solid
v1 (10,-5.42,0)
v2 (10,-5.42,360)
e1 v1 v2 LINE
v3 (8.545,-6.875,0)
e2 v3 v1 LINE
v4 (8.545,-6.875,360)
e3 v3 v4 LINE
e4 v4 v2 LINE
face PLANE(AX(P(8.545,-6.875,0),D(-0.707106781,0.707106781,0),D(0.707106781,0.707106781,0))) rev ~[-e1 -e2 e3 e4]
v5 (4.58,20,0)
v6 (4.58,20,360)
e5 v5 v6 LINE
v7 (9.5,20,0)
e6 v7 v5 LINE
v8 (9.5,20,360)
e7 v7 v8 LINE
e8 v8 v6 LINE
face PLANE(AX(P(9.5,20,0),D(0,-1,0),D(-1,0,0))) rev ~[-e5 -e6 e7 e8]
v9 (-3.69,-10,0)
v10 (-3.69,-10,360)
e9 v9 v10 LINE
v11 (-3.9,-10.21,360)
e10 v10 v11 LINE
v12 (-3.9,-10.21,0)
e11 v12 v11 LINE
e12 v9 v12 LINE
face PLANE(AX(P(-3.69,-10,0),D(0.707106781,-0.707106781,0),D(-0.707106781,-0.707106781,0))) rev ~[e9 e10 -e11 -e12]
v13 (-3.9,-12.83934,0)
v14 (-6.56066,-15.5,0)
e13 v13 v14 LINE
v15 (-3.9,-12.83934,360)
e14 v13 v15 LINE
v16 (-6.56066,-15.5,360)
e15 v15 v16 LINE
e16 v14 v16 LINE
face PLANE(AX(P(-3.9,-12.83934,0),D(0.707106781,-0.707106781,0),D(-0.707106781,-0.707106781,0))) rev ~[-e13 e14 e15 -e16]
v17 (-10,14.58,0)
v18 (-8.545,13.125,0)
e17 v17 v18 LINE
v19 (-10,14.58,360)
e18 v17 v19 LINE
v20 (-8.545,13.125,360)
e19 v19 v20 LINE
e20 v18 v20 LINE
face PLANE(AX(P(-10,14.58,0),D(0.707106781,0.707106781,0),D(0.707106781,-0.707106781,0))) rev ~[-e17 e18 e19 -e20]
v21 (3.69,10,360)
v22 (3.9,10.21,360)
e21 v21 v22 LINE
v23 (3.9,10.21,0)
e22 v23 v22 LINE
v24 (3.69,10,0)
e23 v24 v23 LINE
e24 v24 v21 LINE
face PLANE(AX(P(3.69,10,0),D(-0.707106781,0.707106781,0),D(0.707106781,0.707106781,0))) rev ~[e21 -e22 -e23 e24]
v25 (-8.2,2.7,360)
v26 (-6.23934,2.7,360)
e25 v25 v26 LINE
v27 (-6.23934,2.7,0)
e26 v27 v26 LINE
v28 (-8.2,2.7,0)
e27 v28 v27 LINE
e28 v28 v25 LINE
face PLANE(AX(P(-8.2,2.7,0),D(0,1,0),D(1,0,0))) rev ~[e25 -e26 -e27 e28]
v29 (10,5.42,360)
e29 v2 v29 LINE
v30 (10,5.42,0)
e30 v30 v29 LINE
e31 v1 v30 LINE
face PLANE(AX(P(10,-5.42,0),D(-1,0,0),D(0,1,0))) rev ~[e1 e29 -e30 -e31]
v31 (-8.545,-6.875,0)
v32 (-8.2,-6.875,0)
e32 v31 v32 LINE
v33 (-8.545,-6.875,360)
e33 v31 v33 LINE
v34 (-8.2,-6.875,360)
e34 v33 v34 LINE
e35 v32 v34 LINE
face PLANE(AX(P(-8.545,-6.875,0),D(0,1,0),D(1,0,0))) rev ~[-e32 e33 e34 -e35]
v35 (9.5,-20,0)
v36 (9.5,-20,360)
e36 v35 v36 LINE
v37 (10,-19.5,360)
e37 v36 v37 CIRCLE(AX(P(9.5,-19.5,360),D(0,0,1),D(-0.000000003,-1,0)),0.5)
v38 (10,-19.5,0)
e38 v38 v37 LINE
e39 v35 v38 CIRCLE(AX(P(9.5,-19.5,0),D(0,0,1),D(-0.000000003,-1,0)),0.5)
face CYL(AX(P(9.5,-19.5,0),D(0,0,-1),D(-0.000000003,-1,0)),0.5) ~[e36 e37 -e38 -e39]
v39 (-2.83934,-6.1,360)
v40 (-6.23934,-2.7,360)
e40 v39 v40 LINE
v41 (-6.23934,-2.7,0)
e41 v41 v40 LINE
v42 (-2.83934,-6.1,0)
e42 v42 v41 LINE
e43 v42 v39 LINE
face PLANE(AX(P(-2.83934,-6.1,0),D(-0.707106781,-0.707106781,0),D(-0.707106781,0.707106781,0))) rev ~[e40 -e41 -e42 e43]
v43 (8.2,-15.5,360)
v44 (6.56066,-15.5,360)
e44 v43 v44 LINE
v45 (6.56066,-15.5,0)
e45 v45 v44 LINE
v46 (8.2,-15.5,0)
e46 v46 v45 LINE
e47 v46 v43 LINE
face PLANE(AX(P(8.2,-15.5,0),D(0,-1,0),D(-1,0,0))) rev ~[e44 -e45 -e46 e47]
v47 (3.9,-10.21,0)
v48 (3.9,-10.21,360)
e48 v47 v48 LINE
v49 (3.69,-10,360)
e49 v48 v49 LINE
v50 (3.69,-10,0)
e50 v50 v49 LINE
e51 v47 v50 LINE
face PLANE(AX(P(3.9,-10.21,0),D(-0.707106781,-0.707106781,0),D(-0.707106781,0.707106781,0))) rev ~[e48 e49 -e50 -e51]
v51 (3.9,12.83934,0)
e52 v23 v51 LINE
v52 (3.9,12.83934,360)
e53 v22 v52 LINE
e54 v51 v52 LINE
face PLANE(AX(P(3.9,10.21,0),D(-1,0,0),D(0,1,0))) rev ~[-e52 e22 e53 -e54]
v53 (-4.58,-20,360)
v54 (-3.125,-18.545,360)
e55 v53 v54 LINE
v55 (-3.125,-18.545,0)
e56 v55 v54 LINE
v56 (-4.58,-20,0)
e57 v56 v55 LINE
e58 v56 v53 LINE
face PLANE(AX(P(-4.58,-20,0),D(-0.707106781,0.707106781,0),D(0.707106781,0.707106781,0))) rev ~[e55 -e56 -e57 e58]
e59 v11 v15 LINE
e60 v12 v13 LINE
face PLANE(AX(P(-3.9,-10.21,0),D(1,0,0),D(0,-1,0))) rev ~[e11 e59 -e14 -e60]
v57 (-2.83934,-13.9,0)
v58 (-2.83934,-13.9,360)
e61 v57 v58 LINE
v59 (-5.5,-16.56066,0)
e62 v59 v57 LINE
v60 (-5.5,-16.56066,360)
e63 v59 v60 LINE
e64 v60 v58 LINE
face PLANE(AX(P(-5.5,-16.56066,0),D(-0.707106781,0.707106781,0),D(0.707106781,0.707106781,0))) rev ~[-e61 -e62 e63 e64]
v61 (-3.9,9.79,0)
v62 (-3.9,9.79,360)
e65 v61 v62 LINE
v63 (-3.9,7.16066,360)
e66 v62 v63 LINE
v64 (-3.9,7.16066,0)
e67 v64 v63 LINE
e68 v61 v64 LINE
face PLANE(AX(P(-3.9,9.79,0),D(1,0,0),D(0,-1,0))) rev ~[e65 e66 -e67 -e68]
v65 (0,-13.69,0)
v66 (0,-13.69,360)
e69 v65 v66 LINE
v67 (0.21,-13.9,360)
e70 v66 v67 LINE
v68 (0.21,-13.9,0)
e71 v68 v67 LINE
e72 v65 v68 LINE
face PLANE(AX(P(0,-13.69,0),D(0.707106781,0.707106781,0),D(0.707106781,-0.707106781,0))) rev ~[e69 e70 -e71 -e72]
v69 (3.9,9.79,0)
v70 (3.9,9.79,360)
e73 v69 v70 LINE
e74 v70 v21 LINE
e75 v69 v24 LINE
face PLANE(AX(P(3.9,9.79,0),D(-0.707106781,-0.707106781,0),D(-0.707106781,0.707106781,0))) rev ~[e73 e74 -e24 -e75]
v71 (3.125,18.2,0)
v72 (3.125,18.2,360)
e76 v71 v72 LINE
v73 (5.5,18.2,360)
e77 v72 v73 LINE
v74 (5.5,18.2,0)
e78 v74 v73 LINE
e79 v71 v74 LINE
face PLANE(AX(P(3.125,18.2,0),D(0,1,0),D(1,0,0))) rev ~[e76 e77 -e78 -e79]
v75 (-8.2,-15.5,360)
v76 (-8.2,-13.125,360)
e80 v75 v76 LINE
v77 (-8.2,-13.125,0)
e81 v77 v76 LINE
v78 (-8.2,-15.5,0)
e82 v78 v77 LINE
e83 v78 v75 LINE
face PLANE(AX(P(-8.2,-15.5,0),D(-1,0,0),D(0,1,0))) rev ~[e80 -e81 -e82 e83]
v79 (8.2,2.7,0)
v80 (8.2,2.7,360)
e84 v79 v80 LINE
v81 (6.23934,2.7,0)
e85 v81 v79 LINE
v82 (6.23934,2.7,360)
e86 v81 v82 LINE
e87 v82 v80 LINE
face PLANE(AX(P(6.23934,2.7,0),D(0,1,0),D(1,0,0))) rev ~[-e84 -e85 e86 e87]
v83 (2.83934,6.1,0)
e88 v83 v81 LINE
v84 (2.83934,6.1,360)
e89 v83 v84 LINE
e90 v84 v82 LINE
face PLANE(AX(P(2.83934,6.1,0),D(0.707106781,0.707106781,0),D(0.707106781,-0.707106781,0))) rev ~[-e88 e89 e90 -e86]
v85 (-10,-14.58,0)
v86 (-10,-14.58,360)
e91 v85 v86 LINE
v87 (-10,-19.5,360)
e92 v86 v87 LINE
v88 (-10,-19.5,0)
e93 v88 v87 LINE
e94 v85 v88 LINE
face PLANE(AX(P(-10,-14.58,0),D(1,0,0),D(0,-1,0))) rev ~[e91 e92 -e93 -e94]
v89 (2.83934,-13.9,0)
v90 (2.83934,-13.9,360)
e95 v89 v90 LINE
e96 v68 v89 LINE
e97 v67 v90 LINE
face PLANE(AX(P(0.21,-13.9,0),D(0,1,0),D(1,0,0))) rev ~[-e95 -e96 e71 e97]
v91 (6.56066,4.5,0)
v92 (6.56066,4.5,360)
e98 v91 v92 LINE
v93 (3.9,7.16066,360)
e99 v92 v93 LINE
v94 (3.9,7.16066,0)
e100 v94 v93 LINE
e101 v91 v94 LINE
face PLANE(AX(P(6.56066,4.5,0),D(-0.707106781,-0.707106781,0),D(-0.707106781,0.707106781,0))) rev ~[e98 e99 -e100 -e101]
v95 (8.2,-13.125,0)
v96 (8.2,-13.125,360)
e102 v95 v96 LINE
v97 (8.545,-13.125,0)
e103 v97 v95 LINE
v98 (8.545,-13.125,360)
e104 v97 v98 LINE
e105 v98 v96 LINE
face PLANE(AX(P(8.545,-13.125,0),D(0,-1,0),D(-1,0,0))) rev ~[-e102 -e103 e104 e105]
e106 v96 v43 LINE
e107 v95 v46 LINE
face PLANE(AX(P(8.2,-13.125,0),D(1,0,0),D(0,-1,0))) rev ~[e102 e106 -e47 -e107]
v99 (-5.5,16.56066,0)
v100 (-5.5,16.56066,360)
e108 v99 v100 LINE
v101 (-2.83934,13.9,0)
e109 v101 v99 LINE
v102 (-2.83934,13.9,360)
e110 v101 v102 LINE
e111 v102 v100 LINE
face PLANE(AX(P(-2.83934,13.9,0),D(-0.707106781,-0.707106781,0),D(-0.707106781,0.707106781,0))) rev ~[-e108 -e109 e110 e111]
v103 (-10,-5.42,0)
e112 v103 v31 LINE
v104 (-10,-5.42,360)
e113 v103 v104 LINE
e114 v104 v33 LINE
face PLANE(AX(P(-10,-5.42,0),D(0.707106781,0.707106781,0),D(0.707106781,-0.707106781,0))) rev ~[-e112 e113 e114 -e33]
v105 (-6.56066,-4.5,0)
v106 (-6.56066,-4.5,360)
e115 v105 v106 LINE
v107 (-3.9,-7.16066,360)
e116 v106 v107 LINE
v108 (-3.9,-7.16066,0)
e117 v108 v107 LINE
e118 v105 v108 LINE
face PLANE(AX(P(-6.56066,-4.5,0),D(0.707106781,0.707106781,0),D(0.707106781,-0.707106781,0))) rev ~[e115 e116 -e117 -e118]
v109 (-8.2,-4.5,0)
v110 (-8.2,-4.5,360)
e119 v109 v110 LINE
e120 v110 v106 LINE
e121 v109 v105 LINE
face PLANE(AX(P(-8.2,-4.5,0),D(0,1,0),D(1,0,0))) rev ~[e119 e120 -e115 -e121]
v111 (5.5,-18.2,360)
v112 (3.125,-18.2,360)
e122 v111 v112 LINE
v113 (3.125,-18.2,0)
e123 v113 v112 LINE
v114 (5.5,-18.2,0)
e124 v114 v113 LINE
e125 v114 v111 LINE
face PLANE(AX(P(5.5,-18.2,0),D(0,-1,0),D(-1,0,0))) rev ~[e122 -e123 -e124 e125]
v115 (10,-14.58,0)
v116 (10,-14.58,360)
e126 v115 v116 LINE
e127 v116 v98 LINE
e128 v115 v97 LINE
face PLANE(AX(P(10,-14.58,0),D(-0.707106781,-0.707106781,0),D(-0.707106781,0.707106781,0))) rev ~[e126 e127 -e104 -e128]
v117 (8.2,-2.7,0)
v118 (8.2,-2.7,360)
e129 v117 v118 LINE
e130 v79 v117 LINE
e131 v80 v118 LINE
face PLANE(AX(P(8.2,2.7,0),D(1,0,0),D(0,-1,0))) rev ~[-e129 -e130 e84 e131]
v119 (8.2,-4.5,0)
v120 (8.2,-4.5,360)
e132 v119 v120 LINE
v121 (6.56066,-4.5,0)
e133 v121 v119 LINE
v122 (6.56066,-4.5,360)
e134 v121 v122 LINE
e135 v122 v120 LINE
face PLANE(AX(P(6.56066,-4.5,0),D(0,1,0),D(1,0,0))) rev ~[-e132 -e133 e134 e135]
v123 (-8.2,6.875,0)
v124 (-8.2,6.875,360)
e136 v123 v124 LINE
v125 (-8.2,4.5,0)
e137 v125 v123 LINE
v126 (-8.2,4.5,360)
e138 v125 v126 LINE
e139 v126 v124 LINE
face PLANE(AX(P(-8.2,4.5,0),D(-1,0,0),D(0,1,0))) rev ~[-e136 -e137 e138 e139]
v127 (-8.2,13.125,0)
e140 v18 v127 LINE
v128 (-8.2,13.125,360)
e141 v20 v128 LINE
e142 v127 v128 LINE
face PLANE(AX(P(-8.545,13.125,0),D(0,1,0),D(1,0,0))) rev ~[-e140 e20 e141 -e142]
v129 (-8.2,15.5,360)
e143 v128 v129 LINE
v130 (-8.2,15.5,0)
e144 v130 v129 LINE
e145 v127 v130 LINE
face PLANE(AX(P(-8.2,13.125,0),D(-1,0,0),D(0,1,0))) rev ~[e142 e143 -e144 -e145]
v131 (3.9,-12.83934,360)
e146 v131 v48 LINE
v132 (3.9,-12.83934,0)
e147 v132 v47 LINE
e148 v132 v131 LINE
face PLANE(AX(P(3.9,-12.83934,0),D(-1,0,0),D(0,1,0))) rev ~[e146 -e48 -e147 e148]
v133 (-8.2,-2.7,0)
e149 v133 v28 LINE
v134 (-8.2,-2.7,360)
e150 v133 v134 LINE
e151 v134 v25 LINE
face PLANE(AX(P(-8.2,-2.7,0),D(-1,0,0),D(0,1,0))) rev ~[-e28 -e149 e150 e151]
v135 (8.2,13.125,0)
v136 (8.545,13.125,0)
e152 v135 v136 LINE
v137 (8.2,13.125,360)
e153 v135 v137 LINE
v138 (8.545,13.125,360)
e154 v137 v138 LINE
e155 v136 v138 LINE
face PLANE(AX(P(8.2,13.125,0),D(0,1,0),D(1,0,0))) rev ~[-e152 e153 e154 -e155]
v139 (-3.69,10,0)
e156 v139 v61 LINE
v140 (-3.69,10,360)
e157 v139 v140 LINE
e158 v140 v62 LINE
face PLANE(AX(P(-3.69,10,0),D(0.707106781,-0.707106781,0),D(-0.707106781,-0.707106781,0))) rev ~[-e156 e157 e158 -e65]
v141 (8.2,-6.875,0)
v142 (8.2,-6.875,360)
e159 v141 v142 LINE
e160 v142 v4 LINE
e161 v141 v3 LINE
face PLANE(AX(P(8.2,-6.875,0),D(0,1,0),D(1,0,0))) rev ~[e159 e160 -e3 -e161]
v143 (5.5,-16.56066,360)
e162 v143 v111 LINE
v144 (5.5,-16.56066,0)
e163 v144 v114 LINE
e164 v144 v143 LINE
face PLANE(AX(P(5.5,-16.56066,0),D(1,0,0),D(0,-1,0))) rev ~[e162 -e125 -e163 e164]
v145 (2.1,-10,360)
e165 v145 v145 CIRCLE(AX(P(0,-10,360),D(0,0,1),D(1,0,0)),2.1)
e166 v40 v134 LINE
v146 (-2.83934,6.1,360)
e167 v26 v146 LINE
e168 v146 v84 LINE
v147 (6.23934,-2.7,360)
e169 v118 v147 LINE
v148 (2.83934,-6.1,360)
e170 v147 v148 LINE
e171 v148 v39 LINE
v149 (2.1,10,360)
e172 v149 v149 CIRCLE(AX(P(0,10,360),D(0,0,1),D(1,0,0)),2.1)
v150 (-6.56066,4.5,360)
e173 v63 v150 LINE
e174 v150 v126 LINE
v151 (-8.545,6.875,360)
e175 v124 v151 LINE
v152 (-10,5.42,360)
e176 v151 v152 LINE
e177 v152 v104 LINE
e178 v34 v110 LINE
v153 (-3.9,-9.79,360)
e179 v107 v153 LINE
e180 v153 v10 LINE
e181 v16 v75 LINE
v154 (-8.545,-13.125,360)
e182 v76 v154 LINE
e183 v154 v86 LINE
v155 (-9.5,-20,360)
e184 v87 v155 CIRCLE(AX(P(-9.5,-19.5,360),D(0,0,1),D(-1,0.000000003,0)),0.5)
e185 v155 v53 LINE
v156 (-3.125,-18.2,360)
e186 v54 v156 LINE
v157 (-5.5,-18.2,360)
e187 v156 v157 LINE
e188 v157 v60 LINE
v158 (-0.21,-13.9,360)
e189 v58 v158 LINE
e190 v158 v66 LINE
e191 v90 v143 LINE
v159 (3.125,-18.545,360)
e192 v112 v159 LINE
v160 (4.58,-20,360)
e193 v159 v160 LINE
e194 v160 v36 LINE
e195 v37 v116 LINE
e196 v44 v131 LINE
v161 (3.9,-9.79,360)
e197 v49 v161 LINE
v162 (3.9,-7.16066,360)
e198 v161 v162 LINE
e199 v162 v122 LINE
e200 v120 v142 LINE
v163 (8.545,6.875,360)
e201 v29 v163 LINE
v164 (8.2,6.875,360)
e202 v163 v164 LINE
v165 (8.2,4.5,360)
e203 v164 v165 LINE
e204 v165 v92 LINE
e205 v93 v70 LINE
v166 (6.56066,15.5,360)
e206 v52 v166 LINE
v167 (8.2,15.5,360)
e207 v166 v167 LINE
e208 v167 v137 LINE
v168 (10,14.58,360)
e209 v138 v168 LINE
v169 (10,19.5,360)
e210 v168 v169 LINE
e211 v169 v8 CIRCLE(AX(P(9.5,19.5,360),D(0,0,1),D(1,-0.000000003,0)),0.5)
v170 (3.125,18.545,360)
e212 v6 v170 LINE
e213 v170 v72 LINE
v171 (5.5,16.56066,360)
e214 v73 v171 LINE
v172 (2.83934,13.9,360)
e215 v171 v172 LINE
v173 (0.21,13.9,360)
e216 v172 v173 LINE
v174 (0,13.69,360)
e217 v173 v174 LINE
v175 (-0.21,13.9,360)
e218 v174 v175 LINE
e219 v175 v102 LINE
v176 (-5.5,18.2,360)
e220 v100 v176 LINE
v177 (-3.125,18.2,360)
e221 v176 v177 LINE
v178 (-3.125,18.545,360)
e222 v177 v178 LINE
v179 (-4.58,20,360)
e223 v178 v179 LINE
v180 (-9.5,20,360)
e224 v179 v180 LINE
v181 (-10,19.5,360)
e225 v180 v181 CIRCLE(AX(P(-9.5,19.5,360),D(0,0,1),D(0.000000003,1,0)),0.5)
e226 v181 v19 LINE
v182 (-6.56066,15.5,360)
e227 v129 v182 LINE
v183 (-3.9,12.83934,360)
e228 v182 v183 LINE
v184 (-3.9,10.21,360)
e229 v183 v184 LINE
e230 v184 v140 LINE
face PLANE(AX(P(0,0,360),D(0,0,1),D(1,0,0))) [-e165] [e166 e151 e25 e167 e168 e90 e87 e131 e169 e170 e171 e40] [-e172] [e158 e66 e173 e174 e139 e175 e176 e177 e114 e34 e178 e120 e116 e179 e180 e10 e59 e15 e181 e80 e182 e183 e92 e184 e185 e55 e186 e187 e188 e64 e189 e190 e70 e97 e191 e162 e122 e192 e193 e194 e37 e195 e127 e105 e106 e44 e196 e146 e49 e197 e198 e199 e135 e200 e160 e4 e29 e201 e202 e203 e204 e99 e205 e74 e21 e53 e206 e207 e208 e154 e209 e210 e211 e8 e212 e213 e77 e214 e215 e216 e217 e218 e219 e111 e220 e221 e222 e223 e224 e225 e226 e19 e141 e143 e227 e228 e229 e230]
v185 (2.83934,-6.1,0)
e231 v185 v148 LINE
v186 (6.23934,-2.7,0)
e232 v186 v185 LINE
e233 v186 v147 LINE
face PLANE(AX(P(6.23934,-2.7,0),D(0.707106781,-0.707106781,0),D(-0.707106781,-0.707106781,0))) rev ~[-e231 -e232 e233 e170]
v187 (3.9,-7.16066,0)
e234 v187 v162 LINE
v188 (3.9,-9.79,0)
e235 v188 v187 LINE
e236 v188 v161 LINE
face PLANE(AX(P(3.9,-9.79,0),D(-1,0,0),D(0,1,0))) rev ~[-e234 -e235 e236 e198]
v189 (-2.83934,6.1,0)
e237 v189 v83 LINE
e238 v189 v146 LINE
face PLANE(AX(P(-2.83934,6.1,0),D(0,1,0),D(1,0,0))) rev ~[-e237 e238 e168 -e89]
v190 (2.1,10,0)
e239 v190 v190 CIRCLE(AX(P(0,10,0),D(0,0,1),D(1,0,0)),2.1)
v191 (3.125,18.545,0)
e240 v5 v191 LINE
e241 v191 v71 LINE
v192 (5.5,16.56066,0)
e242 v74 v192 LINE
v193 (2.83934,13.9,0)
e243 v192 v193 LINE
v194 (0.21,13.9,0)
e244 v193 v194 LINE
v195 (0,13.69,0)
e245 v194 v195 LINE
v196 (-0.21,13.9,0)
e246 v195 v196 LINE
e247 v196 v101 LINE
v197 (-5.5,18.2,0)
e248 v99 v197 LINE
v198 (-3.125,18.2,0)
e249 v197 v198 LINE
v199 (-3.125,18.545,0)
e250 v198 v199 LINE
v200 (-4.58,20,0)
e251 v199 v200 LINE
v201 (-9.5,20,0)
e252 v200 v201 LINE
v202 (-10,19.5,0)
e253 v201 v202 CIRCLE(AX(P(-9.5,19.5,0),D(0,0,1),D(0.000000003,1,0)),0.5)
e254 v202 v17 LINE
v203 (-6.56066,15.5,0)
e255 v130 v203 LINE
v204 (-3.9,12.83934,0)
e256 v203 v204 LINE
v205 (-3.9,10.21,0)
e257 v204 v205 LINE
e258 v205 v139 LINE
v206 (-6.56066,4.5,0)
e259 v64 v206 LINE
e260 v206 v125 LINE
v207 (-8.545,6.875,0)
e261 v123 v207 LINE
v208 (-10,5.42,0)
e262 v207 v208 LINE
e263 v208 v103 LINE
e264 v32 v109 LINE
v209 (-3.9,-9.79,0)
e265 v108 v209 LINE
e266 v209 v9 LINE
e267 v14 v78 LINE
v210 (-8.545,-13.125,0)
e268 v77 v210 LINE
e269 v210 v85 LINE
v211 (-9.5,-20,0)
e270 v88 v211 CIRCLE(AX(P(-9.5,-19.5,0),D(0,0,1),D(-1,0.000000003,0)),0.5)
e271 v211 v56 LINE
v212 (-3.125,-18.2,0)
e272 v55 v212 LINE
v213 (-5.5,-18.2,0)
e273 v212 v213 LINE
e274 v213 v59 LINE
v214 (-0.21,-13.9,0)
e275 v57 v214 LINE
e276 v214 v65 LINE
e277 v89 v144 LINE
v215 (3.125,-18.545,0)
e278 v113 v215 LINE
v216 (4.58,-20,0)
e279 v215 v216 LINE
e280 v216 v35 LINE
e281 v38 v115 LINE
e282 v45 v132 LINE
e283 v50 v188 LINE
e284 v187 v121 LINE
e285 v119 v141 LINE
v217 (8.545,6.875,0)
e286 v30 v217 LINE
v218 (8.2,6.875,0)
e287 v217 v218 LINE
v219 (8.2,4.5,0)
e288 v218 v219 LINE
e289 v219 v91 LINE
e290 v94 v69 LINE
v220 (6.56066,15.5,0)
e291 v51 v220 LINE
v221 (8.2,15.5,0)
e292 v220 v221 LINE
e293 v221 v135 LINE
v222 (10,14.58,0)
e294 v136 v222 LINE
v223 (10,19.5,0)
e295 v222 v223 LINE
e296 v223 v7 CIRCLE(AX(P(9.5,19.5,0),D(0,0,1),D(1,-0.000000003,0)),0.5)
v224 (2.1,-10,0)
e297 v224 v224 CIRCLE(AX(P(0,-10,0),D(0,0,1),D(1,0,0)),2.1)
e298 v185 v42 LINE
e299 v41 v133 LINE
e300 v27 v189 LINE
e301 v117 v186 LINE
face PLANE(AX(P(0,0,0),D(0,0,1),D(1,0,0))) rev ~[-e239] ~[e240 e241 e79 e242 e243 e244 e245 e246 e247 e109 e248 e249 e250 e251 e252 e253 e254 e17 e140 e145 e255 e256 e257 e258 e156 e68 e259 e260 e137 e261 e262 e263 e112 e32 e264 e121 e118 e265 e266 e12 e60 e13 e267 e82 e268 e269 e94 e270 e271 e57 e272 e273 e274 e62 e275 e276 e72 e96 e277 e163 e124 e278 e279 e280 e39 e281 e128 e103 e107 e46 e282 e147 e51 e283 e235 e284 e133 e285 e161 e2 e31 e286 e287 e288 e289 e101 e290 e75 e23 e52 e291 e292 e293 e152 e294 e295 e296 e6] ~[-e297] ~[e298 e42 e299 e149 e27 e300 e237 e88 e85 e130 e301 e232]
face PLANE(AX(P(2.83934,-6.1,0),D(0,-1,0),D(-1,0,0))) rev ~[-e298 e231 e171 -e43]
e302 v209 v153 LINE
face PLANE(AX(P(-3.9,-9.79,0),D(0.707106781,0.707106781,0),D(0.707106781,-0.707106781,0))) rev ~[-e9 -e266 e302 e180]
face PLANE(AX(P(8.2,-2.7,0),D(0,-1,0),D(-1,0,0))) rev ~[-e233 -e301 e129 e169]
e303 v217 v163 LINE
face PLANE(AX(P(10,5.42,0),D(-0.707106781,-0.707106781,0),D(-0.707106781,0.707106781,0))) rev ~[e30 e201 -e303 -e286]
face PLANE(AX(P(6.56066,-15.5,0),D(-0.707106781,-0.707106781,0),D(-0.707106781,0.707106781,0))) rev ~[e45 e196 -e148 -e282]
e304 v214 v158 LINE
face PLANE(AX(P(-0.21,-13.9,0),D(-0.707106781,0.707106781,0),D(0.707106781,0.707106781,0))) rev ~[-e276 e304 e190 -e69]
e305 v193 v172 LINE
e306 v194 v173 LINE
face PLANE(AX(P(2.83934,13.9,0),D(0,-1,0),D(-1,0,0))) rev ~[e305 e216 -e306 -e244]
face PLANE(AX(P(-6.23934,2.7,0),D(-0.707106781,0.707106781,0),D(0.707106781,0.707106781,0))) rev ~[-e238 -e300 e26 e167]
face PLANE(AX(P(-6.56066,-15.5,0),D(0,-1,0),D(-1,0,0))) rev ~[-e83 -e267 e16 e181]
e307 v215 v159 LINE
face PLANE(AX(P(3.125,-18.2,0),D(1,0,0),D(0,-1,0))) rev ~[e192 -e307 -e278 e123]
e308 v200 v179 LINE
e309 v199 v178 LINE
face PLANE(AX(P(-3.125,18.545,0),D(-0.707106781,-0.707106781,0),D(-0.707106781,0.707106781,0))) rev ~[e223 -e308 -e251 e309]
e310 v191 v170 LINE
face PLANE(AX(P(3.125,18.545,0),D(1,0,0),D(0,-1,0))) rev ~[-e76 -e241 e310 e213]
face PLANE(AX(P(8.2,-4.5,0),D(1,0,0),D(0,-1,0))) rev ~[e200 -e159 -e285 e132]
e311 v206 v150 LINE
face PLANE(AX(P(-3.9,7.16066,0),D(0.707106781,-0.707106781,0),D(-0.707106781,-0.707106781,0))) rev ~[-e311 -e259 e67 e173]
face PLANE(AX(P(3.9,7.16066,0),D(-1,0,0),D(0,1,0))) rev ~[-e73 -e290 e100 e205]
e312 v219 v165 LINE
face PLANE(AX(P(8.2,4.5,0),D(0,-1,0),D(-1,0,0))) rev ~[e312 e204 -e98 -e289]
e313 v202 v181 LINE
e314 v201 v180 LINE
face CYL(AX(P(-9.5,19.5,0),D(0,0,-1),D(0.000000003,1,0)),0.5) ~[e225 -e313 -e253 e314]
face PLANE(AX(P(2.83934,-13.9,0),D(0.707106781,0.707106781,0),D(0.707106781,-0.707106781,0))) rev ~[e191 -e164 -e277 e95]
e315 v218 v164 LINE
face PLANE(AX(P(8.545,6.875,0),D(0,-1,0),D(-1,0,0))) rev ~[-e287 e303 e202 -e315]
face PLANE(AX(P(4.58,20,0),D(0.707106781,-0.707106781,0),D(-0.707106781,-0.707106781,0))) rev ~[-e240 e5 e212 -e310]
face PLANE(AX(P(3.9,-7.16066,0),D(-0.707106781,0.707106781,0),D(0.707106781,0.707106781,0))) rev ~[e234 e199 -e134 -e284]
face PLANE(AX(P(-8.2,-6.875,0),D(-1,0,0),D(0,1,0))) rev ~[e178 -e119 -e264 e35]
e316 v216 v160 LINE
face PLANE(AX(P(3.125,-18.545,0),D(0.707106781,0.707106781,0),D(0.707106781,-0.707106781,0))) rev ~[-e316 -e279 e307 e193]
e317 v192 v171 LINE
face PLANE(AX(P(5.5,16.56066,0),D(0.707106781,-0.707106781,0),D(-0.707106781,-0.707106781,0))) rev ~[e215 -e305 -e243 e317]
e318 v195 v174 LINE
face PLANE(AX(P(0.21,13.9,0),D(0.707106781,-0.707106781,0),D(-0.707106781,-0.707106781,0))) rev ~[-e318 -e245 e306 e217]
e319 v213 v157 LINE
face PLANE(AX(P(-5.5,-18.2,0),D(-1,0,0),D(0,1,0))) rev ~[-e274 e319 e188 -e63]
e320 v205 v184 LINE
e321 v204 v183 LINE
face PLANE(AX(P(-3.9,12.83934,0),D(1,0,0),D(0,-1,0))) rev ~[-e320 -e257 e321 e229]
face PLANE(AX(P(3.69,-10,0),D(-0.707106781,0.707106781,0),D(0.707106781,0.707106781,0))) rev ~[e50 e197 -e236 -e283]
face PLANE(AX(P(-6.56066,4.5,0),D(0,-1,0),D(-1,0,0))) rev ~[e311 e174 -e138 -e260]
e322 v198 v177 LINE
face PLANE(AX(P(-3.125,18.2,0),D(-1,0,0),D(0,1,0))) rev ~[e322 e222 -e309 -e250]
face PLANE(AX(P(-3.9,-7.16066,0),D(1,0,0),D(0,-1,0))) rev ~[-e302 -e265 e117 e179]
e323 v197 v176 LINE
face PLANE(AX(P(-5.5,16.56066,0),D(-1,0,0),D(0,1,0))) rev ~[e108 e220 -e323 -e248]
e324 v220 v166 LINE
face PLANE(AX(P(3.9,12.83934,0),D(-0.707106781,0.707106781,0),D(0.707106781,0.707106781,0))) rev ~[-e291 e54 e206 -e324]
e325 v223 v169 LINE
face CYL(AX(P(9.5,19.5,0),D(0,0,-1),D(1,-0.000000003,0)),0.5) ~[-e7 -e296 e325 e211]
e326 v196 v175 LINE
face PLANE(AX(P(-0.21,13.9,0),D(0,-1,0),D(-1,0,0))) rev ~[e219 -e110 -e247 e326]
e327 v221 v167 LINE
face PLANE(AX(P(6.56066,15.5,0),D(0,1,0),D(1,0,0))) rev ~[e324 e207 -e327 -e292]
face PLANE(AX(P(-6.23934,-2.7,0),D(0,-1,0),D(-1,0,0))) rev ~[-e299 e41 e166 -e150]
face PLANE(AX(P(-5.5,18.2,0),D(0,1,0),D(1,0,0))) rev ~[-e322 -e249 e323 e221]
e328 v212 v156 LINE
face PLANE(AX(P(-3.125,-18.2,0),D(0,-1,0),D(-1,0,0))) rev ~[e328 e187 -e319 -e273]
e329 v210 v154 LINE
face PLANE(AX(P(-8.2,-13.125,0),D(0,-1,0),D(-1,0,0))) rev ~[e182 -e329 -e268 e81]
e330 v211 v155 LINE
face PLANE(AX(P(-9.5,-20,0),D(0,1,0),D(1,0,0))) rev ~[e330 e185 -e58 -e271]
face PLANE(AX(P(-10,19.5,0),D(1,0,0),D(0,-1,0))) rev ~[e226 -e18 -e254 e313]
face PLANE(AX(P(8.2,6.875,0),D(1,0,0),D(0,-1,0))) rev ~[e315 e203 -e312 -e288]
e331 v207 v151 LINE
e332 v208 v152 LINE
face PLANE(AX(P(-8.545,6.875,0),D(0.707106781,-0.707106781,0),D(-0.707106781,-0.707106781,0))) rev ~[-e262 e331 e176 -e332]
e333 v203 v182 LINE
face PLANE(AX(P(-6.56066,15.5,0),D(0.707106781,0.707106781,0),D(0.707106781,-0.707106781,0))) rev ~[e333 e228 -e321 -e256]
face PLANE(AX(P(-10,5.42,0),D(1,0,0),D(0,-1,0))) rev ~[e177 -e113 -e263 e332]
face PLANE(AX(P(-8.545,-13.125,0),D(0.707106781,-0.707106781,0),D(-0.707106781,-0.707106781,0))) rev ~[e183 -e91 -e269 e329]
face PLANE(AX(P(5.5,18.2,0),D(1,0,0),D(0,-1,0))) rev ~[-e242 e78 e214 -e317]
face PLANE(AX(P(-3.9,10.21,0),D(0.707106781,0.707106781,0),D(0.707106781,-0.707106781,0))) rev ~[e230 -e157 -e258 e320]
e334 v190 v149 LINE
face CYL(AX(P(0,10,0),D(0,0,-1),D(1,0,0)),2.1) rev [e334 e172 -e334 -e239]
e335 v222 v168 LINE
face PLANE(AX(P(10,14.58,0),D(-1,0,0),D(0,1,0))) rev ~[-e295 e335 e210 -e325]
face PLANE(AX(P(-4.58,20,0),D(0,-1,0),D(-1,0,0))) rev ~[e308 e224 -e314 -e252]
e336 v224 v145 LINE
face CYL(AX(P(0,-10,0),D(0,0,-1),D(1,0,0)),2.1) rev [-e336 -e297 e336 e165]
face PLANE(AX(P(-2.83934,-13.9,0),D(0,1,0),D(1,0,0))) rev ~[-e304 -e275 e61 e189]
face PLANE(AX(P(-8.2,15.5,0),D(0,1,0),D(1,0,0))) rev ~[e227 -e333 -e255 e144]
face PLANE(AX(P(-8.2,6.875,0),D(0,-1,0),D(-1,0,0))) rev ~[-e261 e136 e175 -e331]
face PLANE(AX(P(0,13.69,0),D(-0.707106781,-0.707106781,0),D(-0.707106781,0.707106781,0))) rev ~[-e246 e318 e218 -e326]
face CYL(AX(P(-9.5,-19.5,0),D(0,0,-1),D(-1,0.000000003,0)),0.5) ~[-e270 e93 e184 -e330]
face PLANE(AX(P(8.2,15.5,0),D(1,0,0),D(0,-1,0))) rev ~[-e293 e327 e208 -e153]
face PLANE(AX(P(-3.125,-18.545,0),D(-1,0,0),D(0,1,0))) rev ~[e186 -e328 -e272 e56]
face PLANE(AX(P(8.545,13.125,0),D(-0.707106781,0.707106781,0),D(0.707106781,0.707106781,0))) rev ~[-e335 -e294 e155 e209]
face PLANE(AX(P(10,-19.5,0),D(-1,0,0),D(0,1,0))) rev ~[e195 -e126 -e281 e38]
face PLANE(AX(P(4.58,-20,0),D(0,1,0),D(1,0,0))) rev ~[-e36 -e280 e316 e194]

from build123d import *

# Parameters (mm, degrees)
SKETCH1_R           = 2.1
BOSS_EXTRUDE1_DEPTH = 360


with BuildPart() as part:
    # Sketch1 → Boss-Extrude1 (new body)
    with BuildSketch(Plane.XY):
        with BuildLine():
            Line((4.58, -20), (9.5, -20))
            ThreePointArc((9.5, -20), (9.853553391, -19.853553391), (10, -19.5))
            Line((10, -19.5), (10, -14.58))
            Line((10, -14.58), (8.545, -13.125))
            Line((8.545, -13.125), (8.2, -13.125))
            Line((8.2, -13.125), (8.2, -15.5))
            Line((8.2, -15.5), (6.560660172, -15.5))
            Line((6.560660172, -15.5), (3.9, -12.839339828))
            Line((3.9, -12.839339828), (3.9, -10.21))
            Line((3.9, -10.21), (3.69, -10))
            Line((3.69, -10), (3.9, -9.79))
            Line((3.9, -9.79), (3.9, -7.160660172))
            Line((3.9, -7.160660172), (6.560660172, -4.5))
            Line((6.560660172, -4.5), (8.2, -4.5))
            Line((8.2, -4.5), (8.2, -6.875))
            Line((8.2, -6.875), (8.545, -6.875))
            Line((8.545, -6.875), (10, -5.42))
            Line((10, -5.42), (10, 5.42))
            Line((10, 5.42), (8.545, 6.875))
            Line((8.545, 6.875), (8.2, 6.875))
            Line((8.2, 6.875), (8.2, 4.5))
            Line((8.2, 4.5), (6.560660172, 4.5))
            Line((6.560660172, 4.5), (3.9, 7.160660172))
            Line((3.9, 7.160660172), (3.9, 9.79))
            Line((3.9, 9.79), (3.69, 10))
            Line((3.69, 10), (3.9, 10.21))
            Line((3.9, 10.21), (3.9, 12.839339828))
            Line((3.9, 12.839339828), (6.560660172, 15.5))
            Line((6.560660172, 15.5), (8.2, 15.5))
            Line((8.2, 15.5), (8.2, 13.125))
            Line((8.2, 13.125), (8.545, 13.125))
            Line((8.545, 13.125), (10, 14.58))
            Line((10, 14.58), (10, 19.5))
            ThreePointArc((10, 19.5), (9.853553391, 19.853553391), (9.5, 20))
            Line((9.5, 20), (4.58, 20))
            Line((4.58, 20), (3.125, 18.545))
            Line((3.125, 18.545), (3.125, 18.2))
            Line((3.125, 18.2), (5.5, 18.2))
            Line((5.5, 18.2), (5.5, 16.560660172))
            Line((5.5, 16.560660172), (2.839339828, 13.9))
            Line((2.839339828, 13.9), (0.21, 13.9))
            Line((0.21, 13.9), (0, 13.69))
            Line((0, 13.69), (-0.21, 13.9))
            Line((-0.21, 13.9), (-2.839339828, 13.9))
            Line((-2.839339828, 13.9), (-5.5, 16.560660172))
            Line((-5.5, 16.560660172), (-5.5, 18.2))
            Line((-5.5, 18.2), (-3.125, 18.2))
            Line((-3.125, 18.2), (-3.125, 18.545))
            Line((-3.125, 18.545), (-4.58, 20))
            Line((-4.58, 20), (-9.5, 20))
            ThreePointArc((-9.5, 20), (-9.853553391, 19.853553391), (-10, 19.5))
            Line((-10, 19.5), (-10, 14.58))
            Line((-10, 14.58), (-8.545, 13.125))
            Line((-8.545, 13.125), (-8.2, 13.125))
            Line((-8.2, 13.125), (-8.2, 15.5))
            Line((-8.2, 15.5), (-6.560660172, 15.5))
            Line((-6.560660172, 15.5), (-3.9, 12.839339828))
            Line((-3.9, 12.839339828), (-3.9, 10.21))
            Line((-3.9, 10.21), (-3.69, 10))
            Line((-3.69, 10), (-3.9, 9.79))
            Line((-3.9, 9.79), (-3.9, 7.160660172))
            Line((-3.9, 7.160660172), (-6.560660172, 4.5))
            Line((-6.560660172, 4.5), (-8.2, 4.5))
            Line((-8.2, 4.5), (-8.2, 6.875))
            Line((-8.2, 6.875), (-8.545, 6.875))
            Line((-8.545, 6.875), (-10, 5.42))
            Line((-10, 5.42), (-10, -5.42))
            Line((-10, -5.42), (-8.545, -6.875))
            Line((-8.545, -6.875), (-8.2, -6.875))
            Line((-8.2, -6.875), (-8.2, -4.5))
            Line((-8.2, -4.5), (-6.560660172, -4.5))
            Line((-6.560660172, -4.5), (-3.9, -7.160660172))
            Line((-3.9, -7.160660172), (-3.9, -9.79))
            Line((-3.9, -9.79), (-3.69, -10))
            Line((-3.69, -10), (-3.9, -10.21))
            Line((-3.9, -10.21), (-3.9, -12.839339828))
            Line((-3.9, -12.839339828), (-6.560660172, -15.5))
            Line((-6.560660172, -15.5), (-8.2, -15.5))
            Line((-8.2, -15.5), (-8.2, -13.125))
            Line((-8.2, -13.125), (-8.545, -13.125))
            Line((-8.545, -13.125), (-10, -14.58))
            Line((-10, -14.58), (-10, -19.5))
            ThreePointArc((-10, -19.5), (-9.853553391, -19.853553391), (-9.5, -20))
            Line((-9.5, -20), (-4.58, -20))
            Line((-4.58, -20), (-3.125, -18.545))
            Line((-3.125, -18.545), (-3.125, -18.2))
            Line((-3.125, -18.2), (-5.5, -18.2))
            Line((-5.5, -18.2), (-5.5, -16.560660172))
            Line((-5.5, -16.560660172), (-2.839339828, -13.9))
            Line((-2.839339828, -13.9), (-0.21, -13.9))
            Line((-0.21, -13.9), (0, -13.69))
            Line((0, -13.69), (0.21, -13.9))
            Line((0.21, -13.9), (2.839339828, -13.9))
            Line((2.839339828, -13.9), (5.5, -16.560660172))
            Line((5.5, -16.560660172), (5.5, -18.2))
            Line((5.5, -18.2), (3.125, -18.2))
            Line((3.125, -18.2), (3.125, -18.545))
            Line((3.125, -18.545), (4.58, -20))
        make_face()
        with Locations((0, -10)):
            Circle(SKETCH1_R, mode=Mode.SUBTRACT)
        Polygon((-6.239339828, -2.7), (-8.2, -2.7), (-8.2, 2.7), (-6.239339828, 2.7), (-2.839339828, 6.1), (2.839339828, 6.1), (6.239339828, 2.7), (8.2, 2.7), (8.2, -2.7), (6.239339828, -2.7), (2.839339828, -6.1), (-2.839339828, -6.1), align=None, mode=Mode.SUBTRACT)
        with Locations((0, 10)):
            Circle(SKETCH1_R, mode=Mode.SUBTRACT)
    extrude(amount=BOSS_EXTRUDE1_DEPTH)


solid = part.part
